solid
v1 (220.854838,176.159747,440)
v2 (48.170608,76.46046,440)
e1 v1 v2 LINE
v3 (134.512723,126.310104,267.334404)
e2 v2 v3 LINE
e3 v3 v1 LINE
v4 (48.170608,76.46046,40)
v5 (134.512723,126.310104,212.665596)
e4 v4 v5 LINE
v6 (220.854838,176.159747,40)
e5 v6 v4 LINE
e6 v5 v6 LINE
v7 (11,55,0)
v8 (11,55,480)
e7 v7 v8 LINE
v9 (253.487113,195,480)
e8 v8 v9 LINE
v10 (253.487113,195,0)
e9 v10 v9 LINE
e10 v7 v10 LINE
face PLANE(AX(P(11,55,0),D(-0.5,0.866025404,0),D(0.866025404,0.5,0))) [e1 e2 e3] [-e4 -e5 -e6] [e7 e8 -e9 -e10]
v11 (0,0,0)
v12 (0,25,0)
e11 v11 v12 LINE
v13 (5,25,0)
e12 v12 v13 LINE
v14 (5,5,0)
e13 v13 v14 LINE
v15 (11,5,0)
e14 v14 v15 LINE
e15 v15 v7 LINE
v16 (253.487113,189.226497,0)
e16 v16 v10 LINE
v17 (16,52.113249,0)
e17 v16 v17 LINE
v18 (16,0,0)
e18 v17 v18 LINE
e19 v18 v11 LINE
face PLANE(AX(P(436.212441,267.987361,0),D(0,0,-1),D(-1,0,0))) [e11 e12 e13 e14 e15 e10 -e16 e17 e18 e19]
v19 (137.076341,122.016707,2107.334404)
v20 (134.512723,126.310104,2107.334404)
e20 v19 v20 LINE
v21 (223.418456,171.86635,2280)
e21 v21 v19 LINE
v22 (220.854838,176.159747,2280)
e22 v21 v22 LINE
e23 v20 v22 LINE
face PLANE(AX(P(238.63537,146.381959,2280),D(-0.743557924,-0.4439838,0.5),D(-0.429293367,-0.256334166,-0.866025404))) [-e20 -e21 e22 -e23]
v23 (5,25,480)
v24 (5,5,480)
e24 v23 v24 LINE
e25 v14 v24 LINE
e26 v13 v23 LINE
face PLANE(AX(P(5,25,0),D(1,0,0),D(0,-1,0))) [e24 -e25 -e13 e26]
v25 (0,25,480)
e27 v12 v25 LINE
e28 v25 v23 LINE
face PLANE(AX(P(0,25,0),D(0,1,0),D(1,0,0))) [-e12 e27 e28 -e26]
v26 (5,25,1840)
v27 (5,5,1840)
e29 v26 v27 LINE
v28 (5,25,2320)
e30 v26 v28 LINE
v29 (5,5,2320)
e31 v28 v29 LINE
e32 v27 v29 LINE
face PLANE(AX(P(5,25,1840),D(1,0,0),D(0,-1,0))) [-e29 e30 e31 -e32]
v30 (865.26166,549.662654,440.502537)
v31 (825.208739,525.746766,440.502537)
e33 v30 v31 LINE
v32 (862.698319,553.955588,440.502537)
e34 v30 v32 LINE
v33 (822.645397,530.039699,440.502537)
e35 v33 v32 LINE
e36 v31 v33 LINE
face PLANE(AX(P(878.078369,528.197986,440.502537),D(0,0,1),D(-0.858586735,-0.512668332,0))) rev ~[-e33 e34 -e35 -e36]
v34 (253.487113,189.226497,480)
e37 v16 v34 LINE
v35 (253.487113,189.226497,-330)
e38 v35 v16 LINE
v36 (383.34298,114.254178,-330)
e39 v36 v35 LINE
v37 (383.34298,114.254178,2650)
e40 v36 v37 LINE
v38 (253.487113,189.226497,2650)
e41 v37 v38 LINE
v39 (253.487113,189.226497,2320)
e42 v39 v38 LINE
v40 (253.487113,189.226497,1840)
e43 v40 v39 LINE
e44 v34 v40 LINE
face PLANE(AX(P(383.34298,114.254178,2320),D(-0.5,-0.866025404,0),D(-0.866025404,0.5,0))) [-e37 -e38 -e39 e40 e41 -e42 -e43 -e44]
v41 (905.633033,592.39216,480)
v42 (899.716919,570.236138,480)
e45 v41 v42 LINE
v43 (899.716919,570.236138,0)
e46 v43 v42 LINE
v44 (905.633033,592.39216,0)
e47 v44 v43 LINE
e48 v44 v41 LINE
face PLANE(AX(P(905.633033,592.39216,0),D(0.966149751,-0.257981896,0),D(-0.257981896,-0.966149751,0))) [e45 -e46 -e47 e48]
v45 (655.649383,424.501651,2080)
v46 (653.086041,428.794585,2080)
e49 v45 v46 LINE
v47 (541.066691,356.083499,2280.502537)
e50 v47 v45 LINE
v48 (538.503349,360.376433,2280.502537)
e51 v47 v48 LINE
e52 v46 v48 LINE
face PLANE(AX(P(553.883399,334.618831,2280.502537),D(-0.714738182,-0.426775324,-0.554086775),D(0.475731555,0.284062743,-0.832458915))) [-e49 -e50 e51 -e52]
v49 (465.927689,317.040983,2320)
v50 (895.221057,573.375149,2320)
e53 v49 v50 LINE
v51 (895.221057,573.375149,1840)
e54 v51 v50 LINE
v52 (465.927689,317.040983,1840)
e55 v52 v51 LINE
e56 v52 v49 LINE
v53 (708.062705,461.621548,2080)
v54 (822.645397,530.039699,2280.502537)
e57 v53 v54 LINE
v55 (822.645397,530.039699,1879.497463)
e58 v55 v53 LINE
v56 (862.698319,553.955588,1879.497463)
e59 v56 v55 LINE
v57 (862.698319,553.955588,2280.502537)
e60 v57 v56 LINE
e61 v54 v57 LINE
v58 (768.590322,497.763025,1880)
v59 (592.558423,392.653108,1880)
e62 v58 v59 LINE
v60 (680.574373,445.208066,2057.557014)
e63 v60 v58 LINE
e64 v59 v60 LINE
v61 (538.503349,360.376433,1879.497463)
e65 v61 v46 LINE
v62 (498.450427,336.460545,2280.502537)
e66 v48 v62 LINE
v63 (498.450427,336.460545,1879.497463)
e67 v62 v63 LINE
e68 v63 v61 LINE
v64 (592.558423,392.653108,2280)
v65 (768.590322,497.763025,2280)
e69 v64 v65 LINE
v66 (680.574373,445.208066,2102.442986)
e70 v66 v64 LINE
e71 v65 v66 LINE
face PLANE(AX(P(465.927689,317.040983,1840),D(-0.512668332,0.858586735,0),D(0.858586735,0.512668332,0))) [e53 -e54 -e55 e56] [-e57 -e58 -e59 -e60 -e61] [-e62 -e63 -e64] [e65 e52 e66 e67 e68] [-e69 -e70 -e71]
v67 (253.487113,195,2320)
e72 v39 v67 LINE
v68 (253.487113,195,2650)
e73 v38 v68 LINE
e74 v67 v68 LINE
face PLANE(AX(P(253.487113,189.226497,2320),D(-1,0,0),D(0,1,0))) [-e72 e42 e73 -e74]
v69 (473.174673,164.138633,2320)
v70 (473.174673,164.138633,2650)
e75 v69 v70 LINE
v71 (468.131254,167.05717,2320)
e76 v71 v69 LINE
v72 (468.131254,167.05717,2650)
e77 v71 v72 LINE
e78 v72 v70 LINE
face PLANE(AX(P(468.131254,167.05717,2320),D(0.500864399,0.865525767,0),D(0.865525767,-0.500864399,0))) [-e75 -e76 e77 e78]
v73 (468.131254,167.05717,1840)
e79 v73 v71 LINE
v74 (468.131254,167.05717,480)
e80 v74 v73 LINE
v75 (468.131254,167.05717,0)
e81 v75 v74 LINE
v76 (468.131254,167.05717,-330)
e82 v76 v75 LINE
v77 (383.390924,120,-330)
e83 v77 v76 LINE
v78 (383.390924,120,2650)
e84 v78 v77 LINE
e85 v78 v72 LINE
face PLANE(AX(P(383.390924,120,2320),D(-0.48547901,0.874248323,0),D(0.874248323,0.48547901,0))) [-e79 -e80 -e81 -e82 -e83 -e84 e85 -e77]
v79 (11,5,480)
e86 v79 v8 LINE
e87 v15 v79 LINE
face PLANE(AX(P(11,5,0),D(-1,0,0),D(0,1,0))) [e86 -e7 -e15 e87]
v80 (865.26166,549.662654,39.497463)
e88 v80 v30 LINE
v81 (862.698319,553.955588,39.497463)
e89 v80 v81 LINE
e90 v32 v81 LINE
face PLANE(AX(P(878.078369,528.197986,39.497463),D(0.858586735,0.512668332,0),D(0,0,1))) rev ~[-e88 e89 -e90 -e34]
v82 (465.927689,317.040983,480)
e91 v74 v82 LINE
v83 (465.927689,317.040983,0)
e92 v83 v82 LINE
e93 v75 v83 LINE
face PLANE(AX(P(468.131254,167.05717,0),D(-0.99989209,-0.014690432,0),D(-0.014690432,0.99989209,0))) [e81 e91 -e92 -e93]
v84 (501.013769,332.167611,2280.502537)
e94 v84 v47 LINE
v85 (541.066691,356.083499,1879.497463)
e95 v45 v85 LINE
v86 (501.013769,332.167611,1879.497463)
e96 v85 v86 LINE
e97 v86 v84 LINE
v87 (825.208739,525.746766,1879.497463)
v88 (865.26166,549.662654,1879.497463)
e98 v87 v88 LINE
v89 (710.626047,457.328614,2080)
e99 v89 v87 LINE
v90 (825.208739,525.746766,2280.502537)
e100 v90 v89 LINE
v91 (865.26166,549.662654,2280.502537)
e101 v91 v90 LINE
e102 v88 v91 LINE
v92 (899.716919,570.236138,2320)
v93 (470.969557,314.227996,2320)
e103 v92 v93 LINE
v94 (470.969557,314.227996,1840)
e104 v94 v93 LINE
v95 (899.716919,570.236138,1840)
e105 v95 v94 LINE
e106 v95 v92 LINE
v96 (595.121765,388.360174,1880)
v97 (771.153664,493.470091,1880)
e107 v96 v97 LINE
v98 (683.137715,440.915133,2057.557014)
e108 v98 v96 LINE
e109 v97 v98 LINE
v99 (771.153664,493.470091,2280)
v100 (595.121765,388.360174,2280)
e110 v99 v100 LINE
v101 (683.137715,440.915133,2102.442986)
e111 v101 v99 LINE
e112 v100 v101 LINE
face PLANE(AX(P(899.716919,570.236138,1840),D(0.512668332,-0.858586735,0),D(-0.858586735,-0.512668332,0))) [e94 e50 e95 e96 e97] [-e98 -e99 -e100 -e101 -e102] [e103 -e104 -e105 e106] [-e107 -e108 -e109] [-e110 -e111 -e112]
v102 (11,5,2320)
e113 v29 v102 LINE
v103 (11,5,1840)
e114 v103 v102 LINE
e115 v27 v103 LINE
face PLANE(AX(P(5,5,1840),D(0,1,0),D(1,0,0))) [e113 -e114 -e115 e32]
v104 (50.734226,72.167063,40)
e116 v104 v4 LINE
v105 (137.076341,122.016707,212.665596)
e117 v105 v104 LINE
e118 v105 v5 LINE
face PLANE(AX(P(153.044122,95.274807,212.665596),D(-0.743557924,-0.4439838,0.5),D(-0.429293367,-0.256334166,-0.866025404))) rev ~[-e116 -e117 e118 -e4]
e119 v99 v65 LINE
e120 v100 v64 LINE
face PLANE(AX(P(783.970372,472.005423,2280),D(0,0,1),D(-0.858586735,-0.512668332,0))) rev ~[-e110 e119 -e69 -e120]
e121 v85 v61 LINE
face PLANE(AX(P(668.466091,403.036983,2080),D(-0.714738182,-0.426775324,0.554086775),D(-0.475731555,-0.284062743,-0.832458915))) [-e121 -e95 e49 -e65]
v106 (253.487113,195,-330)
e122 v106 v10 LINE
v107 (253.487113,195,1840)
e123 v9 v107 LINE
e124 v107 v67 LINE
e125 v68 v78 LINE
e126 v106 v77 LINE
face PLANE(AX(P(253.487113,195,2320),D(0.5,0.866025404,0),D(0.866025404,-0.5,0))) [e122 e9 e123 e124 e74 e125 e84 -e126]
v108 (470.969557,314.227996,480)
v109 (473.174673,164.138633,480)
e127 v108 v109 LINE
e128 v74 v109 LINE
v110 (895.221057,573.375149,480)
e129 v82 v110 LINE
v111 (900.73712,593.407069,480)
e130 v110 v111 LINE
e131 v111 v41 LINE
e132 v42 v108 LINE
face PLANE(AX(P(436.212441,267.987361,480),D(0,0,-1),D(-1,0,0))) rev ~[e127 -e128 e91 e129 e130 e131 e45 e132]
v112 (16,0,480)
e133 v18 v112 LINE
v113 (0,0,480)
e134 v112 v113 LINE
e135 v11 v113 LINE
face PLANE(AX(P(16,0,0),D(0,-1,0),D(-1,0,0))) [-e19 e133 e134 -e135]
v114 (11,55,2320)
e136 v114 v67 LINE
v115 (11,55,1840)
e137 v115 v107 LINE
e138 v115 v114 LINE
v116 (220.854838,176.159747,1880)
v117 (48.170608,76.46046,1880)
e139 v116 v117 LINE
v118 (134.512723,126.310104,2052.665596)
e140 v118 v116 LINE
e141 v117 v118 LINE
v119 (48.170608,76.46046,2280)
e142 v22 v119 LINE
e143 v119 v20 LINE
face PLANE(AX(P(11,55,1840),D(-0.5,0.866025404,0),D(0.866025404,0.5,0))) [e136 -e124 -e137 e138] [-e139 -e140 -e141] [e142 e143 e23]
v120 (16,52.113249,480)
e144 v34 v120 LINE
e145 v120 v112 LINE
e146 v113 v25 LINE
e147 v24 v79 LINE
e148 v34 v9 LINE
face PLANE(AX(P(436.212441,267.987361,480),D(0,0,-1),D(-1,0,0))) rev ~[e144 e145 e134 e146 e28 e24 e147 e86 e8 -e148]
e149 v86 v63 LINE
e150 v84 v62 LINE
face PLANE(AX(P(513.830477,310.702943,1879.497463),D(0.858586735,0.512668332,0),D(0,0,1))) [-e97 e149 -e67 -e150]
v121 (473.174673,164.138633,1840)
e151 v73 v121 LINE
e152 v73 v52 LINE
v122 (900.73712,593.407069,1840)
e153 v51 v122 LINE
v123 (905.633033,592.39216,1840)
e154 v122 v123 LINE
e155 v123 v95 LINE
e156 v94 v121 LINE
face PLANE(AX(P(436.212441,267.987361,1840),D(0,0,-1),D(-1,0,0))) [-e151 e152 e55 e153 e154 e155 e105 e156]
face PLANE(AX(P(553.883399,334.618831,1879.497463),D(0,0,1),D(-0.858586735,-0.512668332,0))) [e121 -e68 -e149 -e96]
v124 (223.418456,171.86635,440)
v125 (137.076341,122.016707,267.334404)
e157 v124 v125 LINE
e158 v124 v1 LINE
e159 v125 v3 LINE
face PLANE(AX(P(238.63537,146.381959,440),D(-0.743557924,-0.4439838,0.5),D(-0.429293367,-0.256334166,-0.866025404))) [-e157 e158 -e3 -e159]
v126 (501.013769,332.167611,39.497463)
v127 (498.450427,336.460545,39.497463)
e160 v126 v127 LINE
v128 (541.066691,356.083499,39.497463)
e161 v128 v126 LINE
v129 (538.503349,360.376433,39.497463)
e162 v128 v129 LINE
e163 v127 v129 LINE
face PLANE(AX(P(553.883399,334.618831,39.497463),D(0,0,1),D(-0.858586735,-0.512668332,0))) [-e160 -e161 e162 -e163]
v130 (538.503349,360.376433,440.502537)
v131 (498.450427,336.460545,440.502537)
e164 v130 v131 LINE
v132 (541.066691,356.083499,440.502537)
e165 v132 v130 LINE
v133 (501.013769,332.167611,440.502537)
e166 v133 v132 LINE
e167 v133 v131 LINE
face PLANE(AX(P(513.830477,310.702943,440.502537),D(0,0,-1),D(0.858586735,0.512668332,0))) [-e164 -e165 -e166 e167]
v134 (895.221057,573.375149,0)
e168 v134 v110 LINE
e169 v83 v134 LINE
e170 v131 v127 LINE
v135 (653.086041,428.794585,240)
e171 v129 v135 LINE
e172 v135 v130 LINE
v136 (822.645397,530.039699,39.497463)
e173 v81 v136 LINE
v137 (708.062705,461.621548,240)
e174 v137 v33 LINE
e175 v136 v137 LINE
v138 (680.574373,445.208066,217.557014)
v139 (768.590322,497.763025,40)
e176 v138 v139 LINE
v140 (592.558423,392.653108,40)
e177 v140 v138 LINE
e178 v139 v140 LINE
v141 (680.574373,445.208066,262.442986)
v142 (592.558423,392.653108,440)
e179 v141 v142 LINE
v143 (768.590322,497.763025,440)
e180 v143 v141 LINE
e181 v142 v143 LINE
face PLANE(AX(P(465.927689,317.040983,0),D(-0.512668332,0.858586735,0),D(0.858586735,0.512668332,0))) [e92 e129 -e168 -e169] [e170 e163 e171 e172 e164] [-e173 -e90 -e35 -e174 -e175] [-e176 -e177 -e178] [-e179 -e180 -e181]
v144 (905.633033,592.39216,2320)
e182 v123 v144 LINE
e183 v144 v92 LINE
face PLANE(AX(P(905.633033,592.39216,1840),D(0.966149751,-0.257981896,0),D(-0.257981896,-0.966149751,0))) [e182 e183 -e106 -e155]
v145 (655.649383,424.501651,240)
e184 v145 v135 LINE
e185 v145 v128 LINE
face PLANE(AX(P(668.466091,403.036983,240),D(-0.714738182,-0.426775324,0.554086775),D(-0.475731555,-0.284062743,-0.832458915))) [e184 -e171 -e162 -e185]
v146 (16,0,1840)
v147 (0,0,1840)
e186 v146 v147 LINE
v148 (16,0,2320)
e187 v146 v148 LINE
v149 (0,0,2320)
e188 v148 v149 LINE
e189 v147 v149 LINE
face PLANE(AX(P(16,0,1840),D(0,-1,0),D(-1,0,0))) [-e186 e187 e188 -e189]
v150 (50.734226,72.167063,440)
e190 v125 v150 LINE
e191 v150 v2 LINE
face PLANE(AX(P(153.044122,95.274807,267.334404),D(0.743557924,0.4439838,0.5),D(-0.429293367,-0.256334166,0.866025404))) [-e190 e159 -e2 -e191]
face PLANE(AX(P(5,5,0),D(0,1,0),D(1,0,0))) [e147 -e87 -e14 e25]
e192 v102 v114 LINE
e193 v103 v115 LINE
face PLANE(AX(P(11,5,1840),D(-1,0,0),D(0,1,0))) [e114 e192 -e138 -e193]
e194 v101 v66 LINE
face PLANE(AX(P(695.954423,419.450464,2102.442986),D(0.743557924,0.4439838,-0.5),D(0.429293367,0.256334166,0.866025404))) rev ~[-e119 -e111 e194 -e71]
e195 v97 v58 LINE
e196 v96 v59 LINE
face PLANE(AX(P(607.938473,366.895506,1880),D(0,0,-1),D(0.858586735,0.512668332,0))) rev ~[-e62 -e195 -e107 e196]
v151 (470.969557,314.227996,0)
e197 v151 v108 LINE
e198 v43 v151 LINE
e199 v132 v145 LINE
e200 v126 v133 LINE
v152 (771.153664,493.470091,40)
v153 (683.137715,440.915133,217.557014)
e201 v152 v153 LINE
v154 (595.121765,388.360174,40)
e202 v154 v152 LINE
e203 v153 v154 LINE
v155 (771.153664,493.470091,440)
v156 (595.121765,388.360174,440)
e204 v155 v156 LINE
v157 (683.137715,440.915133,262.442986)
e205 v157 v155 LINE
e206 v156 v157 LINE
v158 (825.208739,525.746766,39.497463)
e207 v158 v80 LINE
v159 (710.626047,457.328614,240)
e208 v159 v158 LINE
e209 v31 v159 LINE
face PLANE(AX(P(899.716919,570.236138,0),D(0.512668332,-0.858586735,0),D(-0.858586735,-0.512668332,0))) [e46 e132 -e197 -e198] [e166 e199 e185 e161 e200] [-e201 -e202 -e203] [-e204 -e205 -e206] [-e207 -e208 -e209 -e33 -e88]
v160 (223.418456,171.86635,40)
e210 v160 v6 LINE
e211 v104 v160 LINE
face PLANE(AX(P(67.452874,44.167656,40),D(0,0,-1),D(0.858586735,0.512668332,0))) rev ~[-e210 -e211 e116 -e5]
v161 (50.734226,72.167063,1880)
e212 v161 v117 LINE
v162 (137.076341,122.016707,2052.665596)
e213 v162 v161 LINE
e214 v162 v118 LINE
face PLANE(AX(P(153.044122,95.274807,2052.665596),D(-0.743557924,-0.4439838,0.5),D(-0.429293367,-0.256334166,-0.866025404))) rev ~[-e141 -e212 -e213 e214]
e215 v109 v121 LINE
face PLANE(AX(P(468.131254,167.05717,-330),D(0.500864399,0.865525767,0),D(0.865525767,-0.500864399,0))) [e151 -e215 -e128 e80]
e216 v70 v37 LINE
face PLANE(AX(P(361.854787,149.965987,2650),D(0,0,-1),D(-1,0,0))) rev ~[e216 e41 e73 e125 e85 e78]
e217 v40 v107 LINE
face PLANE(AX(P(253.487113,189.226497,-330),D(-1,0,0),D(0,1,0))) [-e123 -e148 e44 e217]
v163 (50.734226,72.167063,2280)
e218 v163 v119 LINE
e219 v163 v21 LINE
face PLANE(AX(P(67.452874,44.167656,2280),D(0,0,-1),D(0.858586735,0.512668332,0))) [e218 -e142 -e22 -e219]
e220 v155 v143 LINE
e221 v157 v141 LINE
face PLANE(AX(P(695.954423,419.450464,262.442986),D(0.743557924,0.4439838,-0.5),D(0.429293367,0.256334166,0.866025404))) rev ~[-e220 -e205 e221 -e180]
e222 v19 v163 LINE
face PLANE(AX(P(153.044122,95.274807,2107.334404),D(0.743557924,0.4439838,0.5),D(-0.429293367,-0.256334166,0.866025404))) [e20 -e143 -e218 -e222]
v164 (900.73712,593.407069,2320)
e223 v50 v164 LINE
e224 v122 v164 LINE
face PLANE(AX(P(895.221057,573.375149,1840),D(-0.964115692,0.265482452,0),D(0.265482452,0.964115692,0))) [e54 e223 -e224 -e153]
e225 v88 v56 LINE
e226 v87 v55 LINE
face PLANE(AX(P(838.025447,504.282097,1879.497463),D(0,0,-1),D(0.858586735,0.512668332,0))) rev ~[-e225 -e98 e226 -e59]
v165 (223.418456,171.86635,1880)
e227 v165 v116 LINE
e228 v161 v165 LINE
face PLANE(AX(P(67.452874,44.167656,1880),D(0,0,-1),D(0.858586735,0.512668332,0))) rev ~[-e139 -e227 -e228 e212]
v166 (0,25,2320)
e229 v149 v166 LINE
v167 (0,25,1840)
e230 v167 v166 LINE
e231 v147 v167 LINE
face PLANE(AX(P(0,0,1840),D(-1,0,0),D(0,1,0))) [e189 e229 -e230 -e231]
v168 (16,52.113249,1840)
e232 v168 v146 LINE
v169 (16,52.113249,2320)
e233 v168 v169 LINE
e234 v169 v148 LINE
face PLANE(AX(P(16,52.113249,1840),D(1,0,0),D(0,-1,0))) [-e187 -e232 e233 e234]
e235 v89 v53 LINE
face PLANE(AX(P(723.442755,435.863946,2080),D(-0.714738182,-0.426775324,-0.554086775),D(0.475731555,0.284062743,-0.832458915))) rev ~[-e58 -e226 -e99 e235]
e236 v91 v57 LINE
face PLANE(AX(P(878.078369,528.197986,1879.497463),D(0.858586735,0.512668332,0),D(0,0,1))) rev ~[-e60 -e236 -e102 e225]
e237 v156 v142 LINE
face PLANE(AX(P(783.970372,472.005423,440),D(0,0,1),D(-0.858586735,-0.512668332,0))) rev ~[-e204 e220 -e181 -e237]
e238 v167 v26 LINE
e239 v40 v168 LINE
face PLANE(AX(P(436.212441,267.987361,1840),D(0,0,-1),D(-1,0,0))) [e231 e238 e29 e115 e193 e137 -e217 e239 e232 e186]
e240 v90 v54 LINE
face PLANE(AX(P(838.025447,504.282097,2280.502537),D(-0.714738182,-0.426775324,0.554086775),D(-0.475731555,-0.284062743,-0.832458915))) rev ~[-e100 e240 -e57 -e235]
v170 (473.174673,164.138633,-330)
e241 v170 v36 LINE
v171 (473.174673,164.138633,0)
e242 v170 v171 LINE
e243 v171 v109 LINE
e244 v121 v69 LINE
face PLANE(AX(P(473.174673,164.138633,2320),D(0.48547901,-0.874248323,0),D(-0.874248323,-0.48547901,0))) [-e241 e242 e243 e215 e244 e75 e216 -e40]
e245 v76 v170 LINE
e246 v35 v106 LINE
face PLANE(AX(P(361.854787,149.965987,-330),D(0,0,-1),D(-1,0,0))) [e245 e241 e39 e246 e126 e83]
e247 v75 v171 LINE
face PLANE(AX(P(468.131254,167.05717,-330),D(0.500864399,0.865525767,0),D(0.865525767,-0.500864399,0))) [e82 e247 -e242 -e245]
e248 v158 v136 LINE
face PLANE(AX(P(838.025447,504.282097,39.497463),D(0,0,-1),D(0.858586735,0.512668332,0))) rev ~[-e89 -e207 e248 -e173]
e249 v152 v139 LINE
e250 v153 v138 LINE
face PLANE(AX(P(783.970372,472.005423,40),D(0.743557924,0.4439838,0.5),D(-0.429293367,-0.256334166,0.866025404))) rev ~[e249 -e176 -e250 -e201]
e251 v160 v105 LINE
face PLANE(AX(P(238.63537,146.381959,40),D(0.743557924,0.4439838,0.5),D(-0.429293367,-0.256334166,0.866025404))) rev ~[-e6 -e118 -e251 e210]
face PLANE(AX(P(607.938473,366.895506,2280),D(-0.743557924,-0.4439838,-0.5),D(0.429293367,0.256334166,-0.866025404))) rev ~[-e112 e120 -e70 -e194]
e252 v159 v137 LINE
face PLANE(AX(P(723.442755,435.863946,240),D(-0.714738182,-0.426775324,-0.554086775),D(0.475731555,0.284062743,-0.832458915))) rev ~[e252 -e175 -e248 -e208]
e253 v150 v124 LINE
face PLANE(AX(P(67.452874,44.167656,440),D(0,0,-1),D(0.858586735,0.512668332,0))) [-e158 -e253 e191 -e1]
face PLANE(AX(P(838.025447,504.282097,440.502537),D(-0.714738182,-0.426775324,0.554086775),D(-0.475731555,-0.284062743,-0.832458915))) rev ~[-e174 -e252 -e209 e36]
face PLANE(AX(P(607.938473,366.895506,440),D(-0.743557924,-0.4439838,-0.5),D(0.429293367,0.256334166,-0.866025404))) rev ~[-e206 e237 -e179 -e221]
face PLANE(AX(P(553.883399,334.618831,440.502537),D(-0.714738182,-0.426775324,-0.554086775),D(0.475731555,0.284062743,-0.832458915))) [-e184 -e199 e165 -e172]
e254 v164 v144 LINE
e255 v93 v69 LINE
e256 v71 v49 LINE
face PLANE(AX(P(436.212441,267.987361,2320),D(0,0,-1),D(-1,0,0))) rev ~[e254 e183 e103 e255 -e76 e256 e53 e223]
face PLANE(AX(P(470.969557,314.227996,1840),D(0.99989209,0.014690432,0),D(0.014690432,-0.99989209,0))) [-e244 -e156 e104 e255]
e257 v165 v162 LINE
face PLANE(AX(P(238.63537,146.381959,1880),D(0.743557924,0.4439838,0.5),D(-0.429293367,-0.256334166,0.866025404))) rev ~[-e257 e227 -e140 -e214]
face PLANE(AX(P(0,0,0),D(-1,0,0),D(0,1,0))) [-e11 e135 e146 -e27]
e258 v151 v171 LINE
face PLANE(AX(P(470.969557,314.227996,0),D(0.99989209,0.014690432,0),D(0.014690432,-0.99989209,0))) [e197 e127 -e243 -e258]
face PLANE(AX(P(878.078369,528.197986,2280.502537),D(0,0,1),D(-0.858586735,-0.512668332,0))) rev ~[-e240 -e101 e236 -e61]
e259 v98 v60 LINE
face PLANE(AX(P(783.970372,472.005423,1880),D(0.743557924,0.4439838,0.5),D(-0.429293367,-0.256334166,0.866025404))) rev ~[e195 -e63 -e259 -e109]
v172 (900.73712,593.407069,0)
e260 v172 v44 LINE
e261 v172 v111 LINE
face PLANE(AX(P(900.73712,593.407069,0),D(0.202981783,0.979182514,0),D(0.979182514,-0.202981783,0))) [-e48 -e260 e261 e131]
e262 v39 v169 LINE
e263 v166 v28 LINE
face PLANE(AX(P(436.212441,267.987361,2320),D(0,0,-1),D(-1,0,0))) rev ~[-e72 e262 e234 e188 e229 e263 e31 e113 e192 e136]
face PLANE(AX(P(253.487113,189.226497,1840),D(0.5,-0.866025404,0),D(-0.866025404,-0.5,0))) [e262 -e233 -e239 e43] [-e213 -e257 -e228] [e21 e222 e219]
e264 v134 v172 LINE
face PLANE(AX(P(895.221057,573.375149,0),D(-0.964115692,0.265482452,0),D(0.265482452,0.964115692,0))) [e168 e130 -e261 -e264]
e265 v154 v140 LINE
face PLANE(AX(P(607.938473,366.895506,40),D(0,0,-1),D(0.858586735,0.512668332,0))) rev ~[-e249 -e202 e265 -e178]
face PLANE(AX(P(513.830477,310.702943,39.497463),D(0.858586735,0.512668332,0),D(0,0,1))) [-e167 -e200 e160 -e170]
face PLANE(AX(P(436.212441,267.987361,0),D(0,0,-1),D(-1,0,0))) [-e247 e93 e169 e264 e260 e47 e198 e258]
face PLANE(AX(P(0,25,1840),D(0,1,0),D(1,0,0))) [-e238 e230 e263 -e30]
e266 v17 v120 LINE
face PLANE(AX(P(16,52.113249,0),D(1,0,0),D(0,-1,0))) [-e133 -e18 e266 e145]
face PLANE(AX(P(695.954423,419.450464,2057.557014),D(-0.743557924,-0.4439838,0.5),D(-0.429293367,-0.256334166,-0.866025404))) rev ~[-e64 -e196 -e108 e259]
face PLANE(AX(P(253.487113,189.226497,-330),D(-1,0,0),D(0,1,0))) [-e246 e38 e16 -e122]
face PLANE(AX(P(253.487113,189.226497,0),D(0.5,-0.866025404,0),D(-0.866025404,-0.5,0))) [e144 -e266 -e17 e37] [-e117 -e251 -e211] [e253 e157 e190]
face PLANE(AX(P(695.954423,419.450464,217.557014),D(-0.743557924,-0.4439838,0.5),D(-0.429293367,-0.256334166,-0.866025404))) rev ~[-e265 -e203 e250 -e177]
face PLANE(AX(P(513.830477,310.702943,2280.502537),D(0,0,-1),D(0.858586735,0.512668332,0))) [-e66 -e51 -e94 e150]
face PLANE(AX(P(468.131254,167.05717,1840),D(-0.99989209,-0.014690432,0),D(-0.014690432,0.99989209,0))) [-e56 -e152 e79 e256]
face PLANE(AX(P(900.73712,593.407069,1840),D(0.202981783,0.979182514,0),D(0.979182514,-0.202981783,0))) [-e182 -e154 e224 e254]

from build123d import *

# Parameters (mm, degrees)
BOSS_EXTRUDE1_DEPTH      = 480
BOSS_EXTRUDE2_DEPTH      = 1360
BOSS_EXTRUDE2_DEPTH_BACK = 810
BOSS_EXTRUDE3_DEPTH      = 480
BOSS_EXTRUDE4_DEPTH      = 330
CUT_EXTRUDE1_DEPTH       = 10
CUT_EXTRUDE1_DEPTH_BACK  = 30


with BuildPart() as part:
    # Sketch1 → Boss-Extrude1 (new body)
    with BuildSketch(Plane.XY):
        Polygon((11, 5), (11, 55), (253.48711306, 195), (383.390923627, 120), (468.131254081, 167.057169747), (465.927689259, 317.040983214), (895.221056619, 573.375149374), (900.737119771, 593.40706864), (905.633033208, 592.392159546), (899.716918706, 570.236137585), (470.969557333, 314.227995539), (473.174672886, 164.138632802), (383.342980003, 114.254177572), (253.48711306, 189.226497308), (16, 52.113248654), (16, 0), (0, 0), (0, 25), (5, 25), (5, 5), align=None)
    extrude(amount=BOSS_EXTRUDE1_DEPTH)

    # Sketch3 → Boss-Extrude2 (add, two sides: drawn at the far end of the back side and taken through both)
    with BuildSketch(Plane.XY.offset(480).offset(-BOSS_EXTRUDE2_DEPTH_BACK)):
        Polygon((253.48711306, 195), (383.390923627, 120), (468.131254081, 167.057169747), (473.174672886, 164.138632802), (383.342980003, 114.254177572), (253.48711306, 189.226497308), align=None)
    extrude(amount=BOSS_EXTRUDE2_DEPTH + BOSS_EXTRUDE2_DEPTH_BACK)

    # Sketch4 → Boss-Extrude3 (add)
    with BuildSketch(Plane.XY.offset(1840)):
        Polygon((0, 25), (5, 25), (5, 5), (11, 5), (11, 55), (253.48711306, 195), (383.390923627, 120), (468.131254081, 167.057169747), (465.927689259, 317.040983214), (895.221056619, 573.375149374), (900.737119771, 593.40706864), (905.633033208, 592.392159546), (899.716918706, 570.236137585), (470.969557333, 314.227995539), (473.174672886, 164.138632802), (383.342980003, 114.254177572), (253.48711306, 189.226497308), (16, 52.113248654), (16, 0), (0, 0), align=None)
    extrude(amount=BOSS_EXTRUDE3_DEPTH)

    # Sketch5 → Boss-Extrude4 (add)
    with BuildSketch(Plane.XY.offset(2320)):
        Polygon((253.48711306, 195), (383.390923627, 120), (468.131254081, 167.057169747), (473.174672886, 164.138632802), (383.342980003, 114.254177572), (253.48711306, 189.226497308), align=None)
    extrude(amount=BOSS_EXTRUDE4_DEPTH)

    # Sketch8 → Cut-Extrude1 (cut, two sides: drawn at the far end of the back side and taken through both)
    with BuildSketch(Plane(origin=(-17.092778033, 28.625978149, 0), x_dir=(0.8585867347200433, 0.5126683323190285, 0), z_dir=(-0.5126683323190286, 0.8585867347200434, 0)).offset(-CUT_EXTRUDE1_DEPTH_BACK)):
        Polygon((710.063615933, -40), (915.088795023, -40), (812.576205478, -217.557013508), align=None)
        Polygon((780.560416253, -240), (647.105417063, -39.497463328), (600.455591152, -39.497463328), (600.455591152, -440.502536672), (647.105417063, -440.502536672), align=None)
        Polygon((844.591994703, -240), (978.046993893, -39.497463328), (1024.696819804, -39.497463328), (1024.696819804, -440.502536672), (978.046993893, -440.502536672), align=None)
        Polygon((812.576205478, -262.442986492), (915.088795023, -440), (710.063615933, -440), align=None)
        Polygon((80.557501261, -440), (279.934557694, -440), (180.246029478, -267.334404198), align=None)
        Polygon((80.557501261, -40), (279.934557694, -40), (180.246029478, -212.665595802), align=None)
        Polygon((710.063615933, -1880), (915.088795023, -1880), (812.576205478, -2057.557013508), align=None)
        Polygon((978.046993893, -1879.497463328), (1024.696819804, -1879.497463328), (1024.696819804, -2280.502536672), (978.046993893, -2280.502536672), (844.591994703, -2080), align=None)
        Polygon((812.576205478, -2102.442986492), (915.088795023, -2280), (710.063615933, -2280), align=None)
        Polygon((780.560416253, -2080), (647.105417063, -1879.497463328), (600.455591152, -1879.497463328), (600.455591152, -2280.502536672), (647.105417063, -2280.502536672), align=None)
        Polygon((80.557501261, -1880), (279.934557694, -1880), (180.246029478, -2052.665595802), align=None)
        Polygon((279.934557694, -2280), (180.246029478, -2107.334404198), (80.557501261, -2280), align=None)
    extrude(amount=CUT_EXTRUDE1_DEPTH + CUT_EXTRUDE1_DEPTH_BACK, mode=Mode.SUBTRACT)


solid = part.part
